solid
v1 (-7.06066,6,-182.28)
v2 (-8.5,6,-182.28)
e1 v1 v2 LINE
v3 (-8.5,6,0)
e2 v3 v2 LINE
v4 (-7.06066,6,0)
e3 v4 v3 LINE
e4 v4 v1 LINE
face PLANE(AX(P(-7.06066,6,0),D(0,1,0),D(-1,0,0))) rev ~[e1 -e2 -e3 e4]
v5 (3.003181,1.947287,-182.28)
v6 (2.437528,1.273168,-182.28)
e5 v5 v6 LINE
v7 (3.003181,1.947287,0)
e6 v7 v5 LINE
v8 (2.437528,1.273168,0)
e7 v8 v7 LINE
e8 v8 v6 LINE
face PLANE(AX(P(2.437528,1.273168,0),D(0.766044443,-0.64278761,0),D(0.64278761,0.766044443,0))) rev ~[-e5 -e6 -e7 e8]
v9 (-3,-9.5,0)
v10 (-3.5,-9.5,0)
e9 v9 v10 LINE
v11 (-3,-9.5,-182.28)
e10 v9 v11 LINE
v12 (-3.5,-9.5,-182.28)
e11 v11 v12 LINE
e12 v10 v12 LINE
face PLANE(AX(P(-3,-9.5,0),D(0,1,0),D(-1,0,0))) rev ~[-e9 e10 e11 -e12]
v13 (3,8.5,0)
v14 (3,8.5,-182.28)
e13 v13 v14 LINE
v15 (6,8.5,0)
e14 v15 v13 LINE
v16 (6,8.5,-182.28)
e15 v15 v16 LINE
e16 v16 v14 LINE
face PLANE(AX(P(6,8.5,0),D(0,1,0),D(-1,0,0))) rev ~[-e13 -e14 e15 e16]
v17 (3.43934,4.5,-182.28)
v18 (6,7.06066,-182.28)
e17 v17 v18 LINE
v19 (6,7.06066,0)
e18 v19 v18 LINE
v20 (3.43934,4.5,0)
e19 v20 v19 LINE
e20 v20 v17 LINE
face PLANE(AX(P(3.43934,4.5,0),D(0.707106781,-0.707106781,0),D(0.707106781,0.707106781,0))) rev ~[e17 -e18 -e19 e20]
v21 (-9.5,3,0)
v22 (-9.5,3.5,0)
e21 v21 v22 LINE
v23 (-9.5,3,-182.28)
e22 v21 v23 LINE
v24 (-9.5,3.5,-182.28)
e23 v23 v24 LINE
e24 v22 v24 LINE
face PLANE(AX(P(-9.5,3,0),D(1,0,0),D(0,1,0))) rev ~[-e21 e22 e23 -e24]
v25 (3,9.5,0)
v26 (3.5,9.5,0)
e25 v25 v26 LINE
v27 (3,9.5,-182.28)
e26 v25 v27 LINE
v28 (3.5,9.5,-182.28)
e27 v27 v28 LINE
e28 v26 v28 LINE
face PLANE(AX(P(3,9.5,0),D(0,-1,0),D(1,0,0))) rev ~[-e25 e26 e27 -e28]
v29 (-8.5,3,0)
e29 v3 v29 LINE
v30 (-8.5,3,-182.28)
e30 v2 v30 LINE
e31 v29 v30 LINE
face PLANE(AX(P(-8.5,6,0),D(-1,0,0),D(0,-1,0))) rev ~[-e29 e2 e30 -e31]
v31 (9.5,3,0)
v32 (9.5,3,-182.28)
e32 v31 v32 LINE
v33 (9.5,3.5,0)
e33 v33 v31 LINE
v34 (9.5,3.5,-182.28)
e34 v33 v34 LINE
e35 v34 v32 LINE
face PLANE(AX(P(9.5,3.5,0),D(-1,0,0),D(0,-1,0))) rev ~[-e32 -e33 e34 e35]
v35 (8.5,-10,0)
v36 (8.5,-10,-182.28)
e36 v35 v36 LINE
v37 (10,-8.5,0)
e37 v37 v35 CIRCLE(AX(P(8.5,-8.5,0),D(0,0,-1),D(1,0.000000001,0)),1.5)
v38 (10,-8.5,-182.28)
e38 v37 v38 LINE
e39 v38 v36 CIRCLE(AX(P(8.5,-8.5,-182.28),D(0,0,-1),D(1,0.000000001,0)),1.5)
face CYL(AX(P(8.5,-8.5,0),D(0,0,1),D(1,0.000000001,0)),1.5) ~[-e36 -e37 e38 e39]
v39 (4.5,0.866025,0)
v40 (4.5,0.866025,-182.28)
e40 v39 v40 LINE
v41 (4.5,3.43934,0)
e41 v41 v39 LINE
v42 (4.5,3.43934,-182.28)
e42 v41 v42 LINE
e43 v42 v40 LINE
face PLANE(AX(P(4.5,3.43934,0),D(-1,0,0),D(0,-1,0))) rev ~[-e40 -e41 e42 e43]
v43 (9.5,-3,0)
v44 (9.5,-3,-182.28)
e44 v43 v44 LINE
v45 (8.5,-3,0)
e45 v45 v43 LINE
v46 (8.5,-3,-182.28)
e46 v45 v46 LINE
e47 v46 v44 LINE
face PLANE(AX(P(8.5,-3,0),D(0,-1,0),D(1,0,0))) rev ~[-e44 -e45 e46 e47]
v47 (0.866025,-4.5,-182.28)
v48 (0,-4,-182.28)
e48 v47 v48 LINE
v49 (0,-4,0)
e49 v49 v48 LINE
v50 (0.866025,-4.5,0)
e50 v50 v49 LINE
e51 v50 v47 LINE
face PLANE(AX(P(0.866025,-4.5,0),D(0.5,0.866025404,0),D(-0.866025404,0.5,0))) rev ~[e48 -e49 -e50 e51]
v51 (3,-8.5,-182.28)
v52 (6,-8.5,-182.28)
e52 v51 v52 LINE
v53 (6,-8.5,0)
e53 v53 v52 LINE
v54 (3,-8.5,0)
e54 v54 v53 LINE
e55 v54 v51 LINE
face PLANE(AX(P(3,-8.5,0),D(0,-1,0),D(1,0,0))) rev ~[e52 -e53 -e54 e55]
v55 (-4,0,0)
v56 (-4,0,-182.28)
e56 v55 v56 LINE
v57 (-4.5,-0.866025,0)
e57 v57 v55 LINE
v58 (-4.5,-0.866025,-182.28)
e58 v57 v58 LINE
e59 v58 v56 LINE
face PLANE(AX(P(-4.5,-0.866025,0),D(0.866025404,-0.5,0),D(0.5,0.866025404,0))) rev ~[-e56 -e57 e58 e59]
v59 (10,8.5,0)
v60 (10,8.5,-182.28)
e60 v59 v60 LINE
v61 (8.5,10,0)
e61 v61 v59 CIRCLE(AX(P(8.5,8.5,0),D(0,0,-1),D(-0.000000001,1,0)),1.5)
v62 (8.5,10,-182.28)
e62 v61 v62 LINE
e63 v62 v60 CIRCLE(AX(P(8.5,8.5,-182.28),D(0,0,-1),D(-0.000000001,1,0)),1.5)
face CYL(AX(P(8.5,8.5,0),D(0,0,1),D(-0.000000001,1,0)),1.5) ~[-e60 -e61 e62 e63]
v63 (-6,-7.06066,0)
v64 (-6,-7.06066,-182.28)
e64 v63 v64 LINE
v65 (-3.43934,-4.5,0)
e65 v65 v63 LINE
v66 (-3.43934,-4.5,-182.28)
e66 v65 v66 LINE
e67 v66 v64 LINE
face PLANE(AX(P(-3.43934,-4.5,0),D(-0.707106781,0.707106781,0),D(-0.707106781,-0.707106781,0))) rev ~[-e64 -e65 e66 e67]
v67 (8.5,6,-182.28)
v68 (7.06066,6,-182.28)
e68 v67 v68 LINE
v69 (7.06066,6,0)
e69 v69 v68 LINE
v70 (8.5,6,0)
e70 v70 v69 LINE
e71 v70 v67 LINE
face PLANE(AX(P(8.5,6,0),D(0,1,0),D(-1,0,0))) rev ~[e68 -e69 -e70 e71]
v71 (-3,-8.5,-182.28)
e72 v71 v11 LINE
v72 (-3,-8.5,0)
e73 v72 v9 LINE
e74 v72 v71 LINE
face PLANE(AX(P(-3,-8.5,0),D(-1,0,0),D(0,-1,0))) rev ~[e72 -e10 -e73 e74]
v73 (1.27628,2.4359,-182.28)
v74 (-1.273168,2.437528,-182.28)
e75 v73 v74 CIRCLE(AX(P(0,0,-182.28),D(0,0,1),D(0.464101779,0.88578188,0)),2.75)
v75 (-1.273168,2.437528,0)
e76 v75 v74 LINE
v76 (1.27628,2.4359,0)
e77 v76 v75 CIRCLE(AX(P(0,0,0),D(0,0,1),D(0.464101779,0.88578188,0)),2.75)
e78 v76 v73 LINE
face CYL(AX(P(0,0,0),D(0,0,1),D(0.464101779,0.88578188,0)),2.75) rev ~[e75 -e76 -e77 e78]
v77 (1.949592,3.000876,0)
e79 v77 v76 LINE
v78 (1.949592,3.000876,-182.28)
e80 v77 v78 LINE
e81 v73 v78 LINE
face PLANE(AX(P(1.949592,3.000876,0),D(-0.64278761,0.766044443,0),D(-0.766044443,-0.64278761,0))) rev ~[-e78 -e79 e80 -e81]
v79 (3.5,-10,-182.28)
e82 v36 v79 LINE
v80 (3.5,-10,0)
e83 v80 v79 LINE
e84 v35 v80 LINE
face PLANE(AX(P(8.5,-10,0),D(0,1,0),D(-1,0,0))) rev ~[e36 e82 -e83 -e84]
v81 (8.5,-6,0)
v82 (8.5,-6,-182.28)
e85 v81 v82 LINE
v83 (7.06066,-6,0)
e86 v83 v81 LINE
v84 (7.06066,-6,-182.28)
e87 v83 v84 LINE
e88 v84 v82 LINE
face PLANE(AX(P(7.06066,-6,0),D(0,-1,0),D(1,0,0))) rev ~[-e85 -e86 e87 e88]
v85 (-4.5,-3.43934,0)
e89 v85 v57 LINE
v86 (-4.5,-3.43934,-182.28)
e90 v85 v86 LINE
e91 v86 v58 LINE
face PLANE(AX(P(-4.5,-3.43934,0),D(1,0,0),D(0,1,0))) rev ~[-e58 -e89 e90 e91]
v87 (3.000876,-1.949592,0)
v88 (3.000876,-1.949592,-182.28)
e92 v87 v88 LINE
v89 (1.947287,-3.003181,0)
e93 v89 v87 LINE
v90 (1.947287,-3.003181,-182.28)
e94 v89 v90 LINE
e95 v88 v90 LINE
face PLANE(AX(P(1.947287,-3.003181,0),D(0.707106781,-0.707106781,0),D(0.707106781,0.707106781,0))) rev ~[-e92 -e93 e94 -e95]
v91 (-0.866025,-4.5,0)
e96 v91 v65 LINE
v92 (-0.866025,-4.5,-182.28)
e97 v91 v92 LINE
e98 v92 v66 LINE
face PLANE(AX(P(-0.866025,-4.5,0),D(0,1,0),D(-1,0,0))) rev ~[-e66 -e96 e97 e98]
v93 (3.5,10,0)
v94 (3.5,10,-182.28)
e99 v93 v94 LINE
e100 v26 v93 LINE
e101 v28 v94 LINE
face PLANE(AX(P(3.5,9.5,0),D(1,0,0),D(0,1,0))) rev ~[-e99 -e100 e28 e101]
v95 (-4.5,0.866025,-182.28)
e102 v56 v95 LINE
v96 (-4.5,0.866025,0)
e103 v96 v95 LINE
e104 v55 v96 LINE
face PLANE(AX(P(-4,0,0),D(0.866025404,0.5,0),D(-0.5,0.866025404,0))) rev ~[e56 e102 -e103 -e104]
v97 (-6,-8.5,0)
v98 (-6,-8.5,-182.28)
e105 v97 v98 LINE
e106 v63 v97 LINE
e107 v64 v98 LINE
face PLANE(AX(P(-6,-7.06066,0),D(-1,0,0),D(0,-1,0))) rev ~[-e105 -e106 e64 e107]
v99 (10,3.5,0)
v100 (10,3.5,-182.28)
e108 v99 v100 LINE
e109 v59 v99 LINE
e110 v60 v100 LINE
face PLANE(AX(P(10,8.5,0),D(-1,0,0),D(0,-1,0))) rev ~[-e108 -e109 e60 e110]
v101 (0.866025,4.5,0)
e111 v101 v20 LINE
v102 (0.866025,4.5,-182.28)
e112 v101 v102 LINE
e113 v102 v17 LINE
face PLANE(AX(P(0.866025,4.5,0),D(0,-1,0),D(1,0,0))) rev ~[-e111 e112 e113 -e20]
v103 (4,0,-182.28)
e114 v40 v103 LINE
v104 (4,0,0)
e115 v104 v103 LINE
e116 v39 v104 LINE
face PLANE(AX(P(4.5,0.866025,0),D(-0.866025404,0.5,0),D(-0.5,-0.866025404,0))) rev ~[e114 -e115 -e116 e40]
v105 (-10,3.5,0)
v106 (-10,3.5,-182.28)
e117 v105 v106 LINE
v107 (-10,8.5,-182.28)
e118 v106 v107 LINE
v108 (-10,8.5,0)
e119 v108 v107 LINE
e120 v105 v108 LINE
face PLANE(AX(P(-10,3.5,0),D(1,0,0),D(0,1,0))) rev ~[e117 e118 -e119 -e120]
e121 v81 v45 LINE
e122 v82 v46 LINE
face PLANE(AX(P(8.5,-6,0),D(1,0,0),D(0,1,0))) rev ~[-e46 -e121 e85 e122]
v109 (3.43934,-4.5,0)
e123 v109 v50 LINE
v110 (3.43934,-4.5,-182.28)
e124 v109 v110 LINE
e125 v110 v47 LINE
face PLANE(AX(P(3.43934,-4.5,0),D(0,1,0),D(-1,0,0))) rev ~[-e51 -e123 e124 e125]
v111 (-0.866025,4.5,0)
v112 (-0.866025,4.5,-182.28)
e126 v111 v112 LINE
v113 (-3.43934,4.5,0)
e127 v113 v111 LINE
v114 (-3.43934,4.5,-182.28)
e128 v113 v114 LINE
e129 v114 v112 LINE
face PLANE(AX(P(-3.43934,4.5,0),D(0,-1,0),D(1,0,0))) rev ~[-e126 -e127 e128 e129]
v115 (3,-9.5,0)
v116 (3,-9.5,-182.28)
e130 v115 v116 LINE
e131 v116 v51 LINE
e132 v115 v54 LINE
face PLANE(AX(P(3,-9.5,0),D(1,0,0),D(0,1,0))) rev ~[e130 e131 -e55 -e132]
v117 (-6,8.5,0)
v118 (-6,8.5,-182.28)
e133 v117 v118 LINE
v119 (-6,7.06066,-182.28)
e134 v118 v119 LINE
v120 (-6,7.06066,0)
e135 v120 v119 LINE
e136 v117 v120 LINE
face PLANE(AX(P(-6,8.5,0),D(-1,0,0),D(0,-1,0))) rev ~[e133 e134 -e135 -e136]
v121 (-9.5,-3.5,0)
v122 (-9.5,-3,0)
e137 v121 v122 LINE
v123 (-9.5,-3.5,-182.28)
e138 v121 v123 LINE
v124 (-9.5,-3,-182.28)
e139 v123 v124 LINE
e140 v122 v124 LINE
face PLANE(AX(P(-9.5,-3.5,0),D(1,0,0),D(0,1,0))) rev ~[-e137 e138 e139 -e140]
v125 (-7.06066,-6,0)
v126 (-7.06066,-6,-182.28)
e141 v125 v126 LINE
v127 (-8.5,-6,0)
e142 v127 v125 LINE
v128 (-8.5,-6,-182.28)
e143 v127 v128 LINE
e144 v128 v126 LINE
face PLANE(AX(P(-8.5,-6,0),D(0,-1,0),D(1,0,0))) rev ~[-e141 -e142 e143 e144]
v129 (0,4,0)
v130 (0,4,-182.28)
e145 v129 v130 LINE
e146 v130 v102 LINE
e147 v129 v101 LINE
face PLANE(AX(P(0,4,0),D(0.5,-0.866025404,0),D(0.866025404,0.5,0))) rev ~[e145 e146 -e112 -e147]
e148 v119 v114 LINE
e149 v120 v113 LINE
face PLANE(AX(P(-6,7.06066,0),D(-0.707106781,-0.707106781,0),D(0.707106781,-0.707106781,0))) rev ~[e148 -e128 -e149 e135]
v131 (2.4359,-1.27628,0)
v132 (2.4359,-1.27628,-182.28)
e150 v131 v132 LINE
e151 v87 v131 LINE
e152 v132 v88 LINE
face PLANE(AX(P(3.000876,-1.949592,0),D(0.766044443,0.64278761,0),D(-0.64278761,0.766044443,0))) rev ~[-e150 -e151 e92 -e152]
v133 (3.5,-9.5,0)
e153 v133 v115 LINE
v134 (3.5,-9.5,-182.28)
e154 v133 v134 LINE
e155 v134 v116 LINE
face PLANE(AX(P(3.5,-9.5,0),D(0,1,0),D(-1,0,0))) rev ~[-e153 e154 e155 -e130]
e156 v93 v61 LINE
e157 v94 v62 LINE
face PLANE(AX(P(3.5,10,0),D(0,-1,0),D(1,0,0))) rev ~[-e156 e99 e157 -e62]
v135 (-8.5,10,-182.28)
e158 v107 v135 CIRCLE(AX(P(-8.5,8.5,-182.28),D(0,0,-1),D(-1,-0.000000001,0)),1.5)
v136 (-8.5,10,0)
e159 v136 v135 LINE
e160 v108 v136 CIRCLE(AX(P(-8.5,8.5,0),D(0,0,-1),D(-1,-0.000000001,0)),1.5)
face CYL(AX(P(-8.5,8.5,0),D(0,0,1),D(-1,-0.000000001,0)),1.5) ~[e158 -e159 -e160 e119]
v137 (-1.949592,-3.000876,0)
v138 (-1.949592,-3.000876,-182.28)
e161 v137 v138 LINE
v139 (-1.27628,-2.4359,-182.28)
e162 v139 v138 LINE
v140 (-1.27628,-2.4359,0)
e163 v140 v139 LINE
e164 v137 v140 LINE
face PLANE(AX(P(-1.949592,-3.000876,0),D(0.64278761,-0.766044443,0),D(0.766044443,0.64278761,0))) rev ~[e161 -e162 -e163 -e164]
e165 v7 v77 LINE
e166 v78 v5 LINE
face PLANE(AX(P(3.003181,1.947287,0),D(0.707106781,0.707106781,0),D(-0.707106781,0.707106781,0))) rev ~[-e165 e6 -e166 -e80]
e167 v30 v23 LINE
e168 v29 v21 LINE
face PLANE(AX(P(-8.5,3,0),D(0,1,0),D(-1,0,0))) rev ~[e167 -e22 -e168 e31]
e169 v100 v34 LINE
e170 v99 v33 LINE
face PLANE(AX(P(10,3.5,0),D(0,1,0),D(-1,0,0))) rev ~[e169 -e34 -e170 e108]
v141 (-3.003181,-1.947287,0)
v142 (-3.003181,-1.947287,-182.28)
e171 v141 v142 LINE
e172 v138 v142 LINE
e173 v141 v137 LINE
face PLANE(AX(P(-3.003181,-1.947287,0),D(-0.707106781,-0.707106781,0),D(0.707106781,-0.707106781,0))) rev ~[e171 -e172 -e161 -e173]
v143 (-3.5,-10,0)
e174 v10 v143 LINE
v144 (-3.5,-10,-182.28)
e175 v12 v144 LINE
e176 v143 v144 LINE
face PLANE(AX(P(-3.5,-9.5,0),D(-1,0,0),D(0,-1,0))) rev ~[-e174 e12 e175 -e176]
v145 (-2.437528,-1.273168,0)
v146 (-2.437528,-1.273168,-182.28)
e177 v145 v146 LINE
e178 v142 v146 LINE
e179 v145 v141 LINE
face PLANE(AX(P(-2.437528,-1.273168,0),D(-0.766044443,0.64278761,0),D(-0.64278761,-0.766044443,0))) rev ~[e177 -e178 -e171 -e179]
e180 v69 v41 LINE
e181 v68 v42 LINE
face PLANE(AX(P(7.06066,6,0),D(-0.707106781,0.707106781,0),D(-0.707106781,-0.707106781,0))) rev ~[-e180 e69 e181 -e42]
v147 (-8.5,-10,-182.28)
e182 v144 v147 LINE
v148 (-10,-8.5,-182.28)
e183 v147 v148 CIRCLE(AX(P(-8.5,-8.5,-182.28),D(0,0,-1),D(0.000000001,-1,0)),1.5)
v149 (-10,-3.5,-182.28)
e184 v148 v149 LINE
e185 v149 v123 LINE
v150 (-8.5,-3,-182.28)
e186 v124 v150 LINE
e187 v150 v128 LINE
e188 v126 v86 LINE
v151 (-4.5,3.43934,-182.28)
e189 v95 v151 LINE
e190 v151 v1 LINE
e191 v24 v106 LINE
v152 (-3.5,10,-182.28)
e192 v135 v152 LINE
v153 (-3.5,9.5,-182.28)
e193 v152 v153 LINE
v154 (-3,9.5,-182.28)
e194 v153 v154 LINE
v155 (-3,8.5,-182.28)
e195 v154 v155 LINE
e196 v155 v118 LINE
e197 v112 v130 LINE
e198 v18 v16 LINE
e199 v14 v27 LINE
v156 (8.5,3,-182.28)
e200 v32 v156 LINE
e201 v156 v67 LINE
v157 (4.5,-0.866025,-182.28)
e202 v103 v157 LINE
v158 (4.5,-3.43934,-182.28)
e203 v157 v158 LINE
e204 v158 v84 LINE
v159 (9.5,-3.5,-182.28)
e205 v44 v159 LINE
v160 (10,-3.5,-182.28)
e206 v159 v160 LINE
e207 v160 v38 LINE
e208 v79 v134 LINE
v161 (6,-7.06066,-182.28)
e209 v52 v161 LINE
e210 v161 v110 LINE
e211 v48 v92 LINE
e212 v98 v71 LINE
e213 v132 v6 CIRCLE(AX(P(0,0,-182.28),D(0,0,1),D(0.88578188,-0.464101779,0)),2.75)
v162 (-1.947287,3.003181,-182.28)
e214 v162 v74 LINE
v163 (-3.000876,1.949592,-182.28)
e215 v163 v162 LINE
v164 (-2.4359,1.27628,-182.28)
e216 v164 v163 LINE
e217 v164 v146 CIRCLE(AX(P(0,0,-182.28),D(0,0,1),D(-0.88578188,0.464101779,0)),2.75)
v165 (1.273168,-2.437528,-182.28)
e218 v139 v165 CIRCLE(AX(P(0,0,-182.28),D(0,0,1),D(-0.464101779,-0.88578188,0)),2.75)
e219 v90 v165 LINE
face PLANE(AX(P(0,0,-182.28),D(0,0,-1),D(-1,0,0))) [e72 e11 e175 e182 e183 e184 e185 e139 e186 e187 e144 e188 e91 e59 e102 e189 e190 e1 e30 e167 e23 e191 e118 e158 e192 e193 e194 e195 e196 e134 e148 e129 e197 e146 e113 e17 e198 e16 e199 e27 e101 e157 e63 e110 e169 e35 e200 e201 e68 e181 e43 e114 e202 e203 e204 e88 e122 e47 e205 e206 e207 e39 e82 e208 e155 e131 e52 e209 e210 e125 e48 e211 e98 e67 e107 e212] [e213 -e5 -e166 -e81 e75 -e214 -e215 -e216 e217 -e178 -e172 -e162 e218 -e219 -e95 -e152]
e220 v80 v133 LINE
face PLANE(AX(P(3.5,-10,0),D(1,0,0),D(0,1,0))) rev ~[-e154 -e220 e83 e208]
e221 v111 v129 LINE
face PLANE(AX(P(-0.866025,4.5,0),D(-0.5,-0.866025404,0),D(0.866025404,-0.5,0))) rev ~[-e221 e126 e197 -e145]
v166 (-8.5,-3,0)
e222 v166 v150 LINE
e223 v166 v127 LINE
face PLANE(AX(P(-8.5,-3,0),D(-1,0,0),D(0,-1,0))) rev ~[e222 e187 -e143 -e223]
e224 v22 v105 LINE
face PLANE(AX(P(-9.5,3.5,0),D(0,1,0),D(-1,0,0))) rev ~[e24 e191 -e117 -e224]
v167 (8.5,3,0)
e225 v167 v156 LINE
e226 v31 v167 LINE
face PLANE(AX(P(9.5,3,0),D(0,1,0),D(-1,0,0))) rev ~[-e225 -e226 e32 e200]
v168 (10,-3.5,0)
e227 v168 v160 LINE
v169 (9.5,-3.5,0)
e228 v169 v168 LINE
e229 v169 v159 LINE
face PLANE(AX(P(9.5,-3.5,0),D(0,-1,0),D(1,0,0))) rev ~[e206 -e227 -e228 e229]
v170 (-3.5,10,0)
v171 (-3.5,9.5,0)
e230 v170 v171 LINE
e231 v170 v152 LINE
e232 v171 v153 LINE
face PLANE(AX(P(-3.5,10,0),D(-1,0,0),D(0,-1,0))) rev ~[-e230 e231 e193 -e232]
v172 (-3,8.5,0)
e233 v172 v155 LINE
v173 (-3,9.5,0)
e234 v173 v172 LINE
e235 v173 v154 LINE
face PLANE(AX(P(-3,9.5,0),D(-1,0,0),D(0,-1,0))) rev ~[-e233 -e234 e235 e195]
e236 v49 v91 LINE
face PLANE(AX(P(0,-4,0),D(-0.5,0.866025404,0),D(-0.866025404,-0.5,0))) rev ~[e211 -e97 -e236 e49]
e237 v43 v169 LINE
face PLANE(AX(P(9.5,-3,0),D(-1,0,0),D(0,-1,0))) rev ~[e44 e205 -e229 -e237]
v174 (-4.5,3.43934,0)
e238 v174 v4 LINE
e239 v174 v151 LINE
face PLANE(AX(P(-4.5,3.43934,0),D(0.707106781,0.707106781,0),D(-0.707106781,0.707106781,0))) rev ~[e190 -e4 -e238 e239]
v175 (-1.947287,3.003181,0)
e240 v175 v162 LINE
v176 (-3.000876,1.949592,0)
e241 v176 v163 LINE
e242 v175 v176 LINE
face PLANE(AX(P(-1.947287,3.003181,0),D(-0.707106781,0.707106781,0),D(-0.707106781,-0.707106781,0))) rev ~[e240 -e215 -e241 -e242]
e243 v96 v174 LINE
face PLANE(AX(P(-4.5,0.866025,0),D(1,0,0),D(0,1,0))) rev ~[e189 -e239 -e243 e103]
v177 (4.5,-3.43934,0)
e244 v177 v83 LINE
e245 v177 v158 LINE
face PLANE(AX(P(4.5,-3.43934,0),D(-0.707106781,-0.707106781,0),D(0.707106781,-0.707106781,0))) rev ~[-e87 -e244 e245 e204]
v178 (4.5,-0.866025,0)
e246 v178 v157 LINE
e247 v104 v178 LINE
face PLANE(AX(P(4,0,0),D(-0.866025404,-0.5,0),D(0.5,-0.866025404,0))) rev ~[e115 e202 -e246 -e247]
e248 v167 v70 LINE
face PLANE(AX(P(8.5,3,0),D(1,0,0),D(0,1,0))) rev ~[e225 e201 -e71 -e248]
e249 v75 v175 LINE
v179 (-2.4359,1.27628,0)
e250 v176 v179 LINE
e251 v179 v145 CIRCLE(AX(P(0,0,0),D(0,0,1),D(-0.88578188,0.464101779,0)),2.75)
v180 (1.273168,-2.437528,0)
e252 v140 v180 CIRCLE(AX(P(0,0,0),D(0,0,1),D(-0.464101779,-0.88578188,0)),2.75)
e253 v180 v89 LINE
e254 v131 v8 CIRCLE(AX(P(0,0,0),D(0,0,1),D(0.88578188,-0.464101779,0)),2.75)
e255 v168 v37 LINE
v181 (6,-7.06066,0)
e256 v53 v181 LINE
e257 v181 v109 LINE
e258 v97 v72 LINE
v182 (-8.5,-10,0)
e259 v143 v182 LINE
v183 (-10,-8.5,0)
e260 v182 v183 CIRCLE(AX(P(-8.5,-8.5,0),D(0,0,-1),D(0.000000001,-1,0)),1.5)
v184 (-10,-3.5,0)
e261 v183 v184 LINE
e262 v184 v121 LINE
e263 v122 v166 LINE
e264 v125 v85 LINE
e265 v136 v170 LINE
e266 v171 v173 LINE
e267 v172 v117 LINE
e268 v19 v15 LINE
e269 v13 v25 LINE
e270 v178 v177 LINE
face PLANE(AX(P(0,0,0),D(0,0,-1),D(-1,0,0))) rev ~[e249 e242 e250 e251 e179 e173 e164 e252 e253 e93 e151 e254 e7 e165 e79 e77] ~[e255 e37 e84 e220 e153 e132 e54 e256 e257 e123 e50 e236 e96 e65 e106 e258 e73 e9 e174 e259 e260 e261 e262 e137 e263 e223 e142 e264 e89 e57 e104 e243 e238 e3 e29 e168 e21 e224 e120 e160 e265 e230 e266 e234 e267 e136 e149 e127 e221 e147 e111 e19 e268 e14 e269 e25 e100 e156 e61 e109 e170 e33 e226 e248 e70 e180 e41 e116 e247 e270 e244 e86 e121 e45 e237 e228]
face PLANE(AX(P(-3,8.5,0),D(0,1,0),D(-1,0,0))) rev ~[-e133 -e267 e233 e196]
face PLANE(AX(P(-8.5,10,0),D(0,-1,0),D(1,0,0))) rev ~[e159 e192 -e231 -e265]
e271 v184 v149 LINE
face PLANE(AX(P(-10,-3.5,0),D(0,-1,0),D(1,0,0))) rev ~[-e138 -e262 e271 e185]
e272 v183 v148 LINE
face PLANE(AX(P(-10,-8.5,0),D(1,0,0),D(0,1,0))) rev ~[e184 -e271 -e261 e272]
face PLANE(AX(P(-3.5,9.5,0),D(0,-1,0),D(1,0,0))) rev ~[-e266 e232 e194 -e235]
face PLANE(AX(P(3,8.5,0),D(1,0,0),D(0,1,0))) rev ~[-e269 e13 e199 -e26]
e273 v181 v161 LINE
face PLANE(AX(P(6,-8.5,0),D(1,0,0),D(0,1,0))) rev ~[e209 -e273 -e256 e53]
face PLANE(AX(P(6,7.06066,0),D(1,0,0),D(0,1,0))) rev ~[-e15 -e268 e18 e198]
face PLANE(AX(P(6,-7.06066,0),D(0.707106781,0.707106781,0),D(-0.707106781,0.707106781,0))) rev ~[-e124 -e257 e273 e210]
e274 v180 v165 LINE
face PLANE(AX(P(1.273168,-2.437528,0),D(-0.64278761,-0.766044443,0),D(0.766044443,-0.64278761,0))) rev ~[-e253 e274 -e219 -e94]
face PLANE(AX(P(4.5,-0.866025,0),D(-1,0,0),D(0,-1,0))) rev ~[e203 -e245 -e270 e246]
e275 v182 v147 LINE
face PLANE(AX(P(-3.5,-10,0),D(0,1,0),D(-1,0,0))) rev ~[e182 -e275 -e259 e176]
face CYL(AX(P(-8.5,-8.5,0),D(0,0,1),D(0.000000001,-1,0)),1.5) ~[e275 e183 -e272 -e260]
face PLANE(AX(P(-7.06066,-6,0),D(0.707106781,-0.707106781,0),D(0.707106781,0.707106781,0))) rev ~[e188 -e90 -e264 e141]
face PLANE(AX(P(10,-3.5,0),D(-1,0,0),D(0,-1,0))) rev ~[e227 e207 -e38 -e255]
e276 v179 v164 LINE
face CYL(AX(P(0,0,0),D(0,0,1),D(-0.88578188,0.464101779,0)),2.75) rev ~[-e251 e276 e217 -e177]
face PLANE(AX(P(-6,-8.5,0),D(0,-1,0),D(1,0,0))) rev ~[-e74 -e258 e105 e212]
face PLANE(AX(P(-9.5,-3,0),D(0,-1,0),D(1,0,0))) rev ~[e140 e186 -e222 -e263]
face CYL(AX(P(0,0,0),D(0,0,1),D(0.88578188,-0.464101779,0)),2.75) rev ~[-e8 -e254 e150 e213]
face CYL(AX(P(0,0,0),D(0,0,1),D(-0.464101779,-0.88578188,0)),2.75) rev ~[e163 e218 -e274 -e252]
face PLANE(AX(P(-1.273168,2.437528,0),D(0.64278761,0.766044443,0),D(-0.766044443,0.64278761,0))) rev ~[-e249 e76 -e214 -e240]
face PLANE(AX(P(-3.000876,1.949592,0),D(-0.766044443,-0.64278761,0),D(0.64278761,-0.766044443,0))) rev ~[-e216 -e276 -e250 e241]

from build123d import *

# Parameters (mm, degrees)
BOSS_EXTRU_1_DEPTH      = 182.28
ENL_V_MAT_EXTRU_1_DEPTH = 183.827783447


with BuildPart() as part:
    # Esquisse1 → Boss.-Extru.1 (new body)
    with BuildSketch(Plane.XY):
        with BuildLine():
            Line((-4, 0), (-4.5, 0.866025404))
            Line((-4.5, 0.866025404), (-4.5, 3.439339828))
            Line((-4.5, 3.439339828), (-7.060660172, 6))
            Line((-7.060660172, 6), (-8.5, 6))
            Line((-8.5, 6), (-8.5, 3))
            Line((-8.5, 3), (-9.5, 3))
            Line((-9.5, 3), (-9.5, 3.5))
            Line((-9.5, 3.5), (-10, 3.5))
            Line((-10, 3.5), (-10, 8.5))
            ThreePointArc((-10, 8.5), (-9.560660172, 9.560660172), (-8.5, 10))
            Line((-8.5, 10), (-3.5, 10))
            Line((-3.5, 10), (-3.5, 9.5))
            Line((-3.5, 9.5), (-3, 9.5))
            Line((-3, 9.5), (-3, 8.5))
            Line((-3, 8.5), (-6, 8.5))
            Line((-6, 8.5), (-6, 7.060660172))
            Line((-6, 7.060660172), (-3.439339828, 4.5))
            Line((-3.439339828, 4.5), (-0.866025404, 4.5))
            Line((-0.866025404, 4.5), (0, 4))
            Line((0, 4), (0.866025404, 4.5))
            Line((0.866025404, 4.5), (3.439339828, 4.5))
            Line((3.439339828, 4.5), (6, 7.060660172))
            Line((6, 7.060660172), (6, 8.5))
            Line((6, 8.5), (3, 8.5))
            Line((3, 8.5), (3, 9.5))
            Line((3, 9.5), (3.5, 9.5))
            Line((3.5, 9.5), (3.5, 10))
            Line((3.5, 10), (8.5, 10))
            ThreePointArc((8.5, 10), (9.560660172, 9.560660172), (10, 8.5))
            Line((10, 8.5), (10, 3.5))
            Line((10, 3.5), (9.5, 3.5))
            Line((9.5, 3.5), (9.5, 3))
            Line((9.5, 3), (8.5, 3))
            Line((8.5, 3), (8.5, 6))
            Line((8.5, 6), (7.060660172, 6))
            Line((7.060660172, 6), (4.5, 3.439339828))
            Line((4.5, 3.439339828), (4.5, 0.866025404))
            Line((4.5, 0.866025404), (4, 0))
            Line((4, 0), (4.5, -0.866025404))
            Line((4.5, -0.866025404), (4.5, -3.439339828))
            Line((4.5, -3.439339828), (7.060660172, -6))
            Line((7.060660172, -6), (8.5, -6))
            Line((8.5, -6), (8.5, -3))
            Line((8.5, -3), (9.5, -3))
            Line((9.5, -3), (9.5, -3.5))
            Line((9.5, -3.5), (10, -3.5))
            Line((10, -3.5), (10, -8.5))
            ThreePointArc((10, -8.5), (9.560660172, -9.560660172), (8.5, -10))
            Line((8.5, -10), (3.5, -10))
            Line((3.5, -10), (3.5, -9.5))
            Line((3.5, -9.5), (3, -9.5))
            Line((3, -9.5), (3, -8.5))
            Line((3, -8.5), (6, -8.5))
            Line((6, -8.5), (6, -7.060660172))
            Line((6, -7.060660172), (3.439339828, -4.5))
            Line((3.439339828, -4.5), (0.866025404, -4.5))
            Line((0.866025404, -4.5), (0, -4))
            Line((0, -4), (-0.866025404, -4.5))
            Line((-0.866025404, -4.5), (-3.439339828, -4.5))
            Line((-3.439339828, -4.5), (-6, -7.060660172))
            Line((-6, -7.060660172), (-6, -8.5))
            Line((-6, -8.5), (-3, -8.5))
            Line((-3, -8.5), (-3, -9.5))
            Line((-3, -9.5), (-3.5, -9.5))
            Line((-3.5, -9.5), (-3.5, -10))
            Line((-3.5, -10), (-8.5, -10))
            ThreePointArc((-8.5, -10), (-9.560660172, -9.560660172), (-10, -8.5))
            Line((-10, -8.5), (-10, -3.5))
            Line((-10, -3.5), (-9.5, -3.5))
            Line((-9.5, -3.5), (-9.5, -3))
            Line((-9.5, -3), (-8.5, -3))
            Line((-8.5, -3), (-8.5, -6))
            Line((-8.5, -6), (-7.060660172, -6))
            Line((-7.060660172, -6), (-4.5, -3.439339828))
            Line((-4.5, -3.439339828), (-4.5, -0.866025404))
            Line((-4.5, -0.866025404), (-4, 0))
        make_face()
    extrude(amount=-BOSS_EXTRU_1_DEPTH)

    # Esquisse2 → Enlèv. mat.-Extru.1 (cut, through all)
    with BuildSketch(Plane.XY):
        with BuildLine():
            Line((1.949592103, 3.000876196), (1.276279893, 2.435900169))
            ThreePointArc((1.276279893, 2.435900169), (0.001756003, 2.749999439), (-1.273167982, 2.43752811))
            Line((-1.273167982, 2.43752811), (-1.947287092, 3.003181207))
            Line((-1.947287092, 3.003181207), (-3.000876196, 1.949592103))
            Line((-3.000876196, 1.949592103), (-2.435900169, 1.276279893))
            ThreePointArc((-2.435900169, 1.276279893), (-2.749999439, 0.001756003), (-2.43752811, -1.273167982))
            Line((-2.43752811, -1.273167982), (-3.003181207, -1.947287092))
            Line((-3.003181207, -1.947287092), (-1.949592103, -3.000876196))
            Line((-1.949592103, -3.000876196), (-1.276279893, -2.435900169))
            ThreePointArc((-1.276279893, -2.435900169), (-0.001756003, -2.749999439), (1.273167982, -2.43752811))
            Line((1.273167982, -2.43752811), (1.947287092, -3.003181207))
            Line((1.947287092, -3.003181207), (3.000876196, -1.949592103))
            Line((3.000876196, -1.949592103), (2.435900169, -1.276279893))
            ThreePointArc((2.435900169, -1.276279893), (2.749999439, -0.001756003), (2.43752811, 1.273167982))
            Line((2.43752811, 1.273167982), (3.003181207, 1.947287092))
            Line((3.003181207, 1.947287092), (1.949592103, 3.000876196))
        make_face()
    extrude(amount=-ENL_V_MAT_EXTRU_1_DEPTH, mode=Mode.SUBTRACT)


solid = part.part
